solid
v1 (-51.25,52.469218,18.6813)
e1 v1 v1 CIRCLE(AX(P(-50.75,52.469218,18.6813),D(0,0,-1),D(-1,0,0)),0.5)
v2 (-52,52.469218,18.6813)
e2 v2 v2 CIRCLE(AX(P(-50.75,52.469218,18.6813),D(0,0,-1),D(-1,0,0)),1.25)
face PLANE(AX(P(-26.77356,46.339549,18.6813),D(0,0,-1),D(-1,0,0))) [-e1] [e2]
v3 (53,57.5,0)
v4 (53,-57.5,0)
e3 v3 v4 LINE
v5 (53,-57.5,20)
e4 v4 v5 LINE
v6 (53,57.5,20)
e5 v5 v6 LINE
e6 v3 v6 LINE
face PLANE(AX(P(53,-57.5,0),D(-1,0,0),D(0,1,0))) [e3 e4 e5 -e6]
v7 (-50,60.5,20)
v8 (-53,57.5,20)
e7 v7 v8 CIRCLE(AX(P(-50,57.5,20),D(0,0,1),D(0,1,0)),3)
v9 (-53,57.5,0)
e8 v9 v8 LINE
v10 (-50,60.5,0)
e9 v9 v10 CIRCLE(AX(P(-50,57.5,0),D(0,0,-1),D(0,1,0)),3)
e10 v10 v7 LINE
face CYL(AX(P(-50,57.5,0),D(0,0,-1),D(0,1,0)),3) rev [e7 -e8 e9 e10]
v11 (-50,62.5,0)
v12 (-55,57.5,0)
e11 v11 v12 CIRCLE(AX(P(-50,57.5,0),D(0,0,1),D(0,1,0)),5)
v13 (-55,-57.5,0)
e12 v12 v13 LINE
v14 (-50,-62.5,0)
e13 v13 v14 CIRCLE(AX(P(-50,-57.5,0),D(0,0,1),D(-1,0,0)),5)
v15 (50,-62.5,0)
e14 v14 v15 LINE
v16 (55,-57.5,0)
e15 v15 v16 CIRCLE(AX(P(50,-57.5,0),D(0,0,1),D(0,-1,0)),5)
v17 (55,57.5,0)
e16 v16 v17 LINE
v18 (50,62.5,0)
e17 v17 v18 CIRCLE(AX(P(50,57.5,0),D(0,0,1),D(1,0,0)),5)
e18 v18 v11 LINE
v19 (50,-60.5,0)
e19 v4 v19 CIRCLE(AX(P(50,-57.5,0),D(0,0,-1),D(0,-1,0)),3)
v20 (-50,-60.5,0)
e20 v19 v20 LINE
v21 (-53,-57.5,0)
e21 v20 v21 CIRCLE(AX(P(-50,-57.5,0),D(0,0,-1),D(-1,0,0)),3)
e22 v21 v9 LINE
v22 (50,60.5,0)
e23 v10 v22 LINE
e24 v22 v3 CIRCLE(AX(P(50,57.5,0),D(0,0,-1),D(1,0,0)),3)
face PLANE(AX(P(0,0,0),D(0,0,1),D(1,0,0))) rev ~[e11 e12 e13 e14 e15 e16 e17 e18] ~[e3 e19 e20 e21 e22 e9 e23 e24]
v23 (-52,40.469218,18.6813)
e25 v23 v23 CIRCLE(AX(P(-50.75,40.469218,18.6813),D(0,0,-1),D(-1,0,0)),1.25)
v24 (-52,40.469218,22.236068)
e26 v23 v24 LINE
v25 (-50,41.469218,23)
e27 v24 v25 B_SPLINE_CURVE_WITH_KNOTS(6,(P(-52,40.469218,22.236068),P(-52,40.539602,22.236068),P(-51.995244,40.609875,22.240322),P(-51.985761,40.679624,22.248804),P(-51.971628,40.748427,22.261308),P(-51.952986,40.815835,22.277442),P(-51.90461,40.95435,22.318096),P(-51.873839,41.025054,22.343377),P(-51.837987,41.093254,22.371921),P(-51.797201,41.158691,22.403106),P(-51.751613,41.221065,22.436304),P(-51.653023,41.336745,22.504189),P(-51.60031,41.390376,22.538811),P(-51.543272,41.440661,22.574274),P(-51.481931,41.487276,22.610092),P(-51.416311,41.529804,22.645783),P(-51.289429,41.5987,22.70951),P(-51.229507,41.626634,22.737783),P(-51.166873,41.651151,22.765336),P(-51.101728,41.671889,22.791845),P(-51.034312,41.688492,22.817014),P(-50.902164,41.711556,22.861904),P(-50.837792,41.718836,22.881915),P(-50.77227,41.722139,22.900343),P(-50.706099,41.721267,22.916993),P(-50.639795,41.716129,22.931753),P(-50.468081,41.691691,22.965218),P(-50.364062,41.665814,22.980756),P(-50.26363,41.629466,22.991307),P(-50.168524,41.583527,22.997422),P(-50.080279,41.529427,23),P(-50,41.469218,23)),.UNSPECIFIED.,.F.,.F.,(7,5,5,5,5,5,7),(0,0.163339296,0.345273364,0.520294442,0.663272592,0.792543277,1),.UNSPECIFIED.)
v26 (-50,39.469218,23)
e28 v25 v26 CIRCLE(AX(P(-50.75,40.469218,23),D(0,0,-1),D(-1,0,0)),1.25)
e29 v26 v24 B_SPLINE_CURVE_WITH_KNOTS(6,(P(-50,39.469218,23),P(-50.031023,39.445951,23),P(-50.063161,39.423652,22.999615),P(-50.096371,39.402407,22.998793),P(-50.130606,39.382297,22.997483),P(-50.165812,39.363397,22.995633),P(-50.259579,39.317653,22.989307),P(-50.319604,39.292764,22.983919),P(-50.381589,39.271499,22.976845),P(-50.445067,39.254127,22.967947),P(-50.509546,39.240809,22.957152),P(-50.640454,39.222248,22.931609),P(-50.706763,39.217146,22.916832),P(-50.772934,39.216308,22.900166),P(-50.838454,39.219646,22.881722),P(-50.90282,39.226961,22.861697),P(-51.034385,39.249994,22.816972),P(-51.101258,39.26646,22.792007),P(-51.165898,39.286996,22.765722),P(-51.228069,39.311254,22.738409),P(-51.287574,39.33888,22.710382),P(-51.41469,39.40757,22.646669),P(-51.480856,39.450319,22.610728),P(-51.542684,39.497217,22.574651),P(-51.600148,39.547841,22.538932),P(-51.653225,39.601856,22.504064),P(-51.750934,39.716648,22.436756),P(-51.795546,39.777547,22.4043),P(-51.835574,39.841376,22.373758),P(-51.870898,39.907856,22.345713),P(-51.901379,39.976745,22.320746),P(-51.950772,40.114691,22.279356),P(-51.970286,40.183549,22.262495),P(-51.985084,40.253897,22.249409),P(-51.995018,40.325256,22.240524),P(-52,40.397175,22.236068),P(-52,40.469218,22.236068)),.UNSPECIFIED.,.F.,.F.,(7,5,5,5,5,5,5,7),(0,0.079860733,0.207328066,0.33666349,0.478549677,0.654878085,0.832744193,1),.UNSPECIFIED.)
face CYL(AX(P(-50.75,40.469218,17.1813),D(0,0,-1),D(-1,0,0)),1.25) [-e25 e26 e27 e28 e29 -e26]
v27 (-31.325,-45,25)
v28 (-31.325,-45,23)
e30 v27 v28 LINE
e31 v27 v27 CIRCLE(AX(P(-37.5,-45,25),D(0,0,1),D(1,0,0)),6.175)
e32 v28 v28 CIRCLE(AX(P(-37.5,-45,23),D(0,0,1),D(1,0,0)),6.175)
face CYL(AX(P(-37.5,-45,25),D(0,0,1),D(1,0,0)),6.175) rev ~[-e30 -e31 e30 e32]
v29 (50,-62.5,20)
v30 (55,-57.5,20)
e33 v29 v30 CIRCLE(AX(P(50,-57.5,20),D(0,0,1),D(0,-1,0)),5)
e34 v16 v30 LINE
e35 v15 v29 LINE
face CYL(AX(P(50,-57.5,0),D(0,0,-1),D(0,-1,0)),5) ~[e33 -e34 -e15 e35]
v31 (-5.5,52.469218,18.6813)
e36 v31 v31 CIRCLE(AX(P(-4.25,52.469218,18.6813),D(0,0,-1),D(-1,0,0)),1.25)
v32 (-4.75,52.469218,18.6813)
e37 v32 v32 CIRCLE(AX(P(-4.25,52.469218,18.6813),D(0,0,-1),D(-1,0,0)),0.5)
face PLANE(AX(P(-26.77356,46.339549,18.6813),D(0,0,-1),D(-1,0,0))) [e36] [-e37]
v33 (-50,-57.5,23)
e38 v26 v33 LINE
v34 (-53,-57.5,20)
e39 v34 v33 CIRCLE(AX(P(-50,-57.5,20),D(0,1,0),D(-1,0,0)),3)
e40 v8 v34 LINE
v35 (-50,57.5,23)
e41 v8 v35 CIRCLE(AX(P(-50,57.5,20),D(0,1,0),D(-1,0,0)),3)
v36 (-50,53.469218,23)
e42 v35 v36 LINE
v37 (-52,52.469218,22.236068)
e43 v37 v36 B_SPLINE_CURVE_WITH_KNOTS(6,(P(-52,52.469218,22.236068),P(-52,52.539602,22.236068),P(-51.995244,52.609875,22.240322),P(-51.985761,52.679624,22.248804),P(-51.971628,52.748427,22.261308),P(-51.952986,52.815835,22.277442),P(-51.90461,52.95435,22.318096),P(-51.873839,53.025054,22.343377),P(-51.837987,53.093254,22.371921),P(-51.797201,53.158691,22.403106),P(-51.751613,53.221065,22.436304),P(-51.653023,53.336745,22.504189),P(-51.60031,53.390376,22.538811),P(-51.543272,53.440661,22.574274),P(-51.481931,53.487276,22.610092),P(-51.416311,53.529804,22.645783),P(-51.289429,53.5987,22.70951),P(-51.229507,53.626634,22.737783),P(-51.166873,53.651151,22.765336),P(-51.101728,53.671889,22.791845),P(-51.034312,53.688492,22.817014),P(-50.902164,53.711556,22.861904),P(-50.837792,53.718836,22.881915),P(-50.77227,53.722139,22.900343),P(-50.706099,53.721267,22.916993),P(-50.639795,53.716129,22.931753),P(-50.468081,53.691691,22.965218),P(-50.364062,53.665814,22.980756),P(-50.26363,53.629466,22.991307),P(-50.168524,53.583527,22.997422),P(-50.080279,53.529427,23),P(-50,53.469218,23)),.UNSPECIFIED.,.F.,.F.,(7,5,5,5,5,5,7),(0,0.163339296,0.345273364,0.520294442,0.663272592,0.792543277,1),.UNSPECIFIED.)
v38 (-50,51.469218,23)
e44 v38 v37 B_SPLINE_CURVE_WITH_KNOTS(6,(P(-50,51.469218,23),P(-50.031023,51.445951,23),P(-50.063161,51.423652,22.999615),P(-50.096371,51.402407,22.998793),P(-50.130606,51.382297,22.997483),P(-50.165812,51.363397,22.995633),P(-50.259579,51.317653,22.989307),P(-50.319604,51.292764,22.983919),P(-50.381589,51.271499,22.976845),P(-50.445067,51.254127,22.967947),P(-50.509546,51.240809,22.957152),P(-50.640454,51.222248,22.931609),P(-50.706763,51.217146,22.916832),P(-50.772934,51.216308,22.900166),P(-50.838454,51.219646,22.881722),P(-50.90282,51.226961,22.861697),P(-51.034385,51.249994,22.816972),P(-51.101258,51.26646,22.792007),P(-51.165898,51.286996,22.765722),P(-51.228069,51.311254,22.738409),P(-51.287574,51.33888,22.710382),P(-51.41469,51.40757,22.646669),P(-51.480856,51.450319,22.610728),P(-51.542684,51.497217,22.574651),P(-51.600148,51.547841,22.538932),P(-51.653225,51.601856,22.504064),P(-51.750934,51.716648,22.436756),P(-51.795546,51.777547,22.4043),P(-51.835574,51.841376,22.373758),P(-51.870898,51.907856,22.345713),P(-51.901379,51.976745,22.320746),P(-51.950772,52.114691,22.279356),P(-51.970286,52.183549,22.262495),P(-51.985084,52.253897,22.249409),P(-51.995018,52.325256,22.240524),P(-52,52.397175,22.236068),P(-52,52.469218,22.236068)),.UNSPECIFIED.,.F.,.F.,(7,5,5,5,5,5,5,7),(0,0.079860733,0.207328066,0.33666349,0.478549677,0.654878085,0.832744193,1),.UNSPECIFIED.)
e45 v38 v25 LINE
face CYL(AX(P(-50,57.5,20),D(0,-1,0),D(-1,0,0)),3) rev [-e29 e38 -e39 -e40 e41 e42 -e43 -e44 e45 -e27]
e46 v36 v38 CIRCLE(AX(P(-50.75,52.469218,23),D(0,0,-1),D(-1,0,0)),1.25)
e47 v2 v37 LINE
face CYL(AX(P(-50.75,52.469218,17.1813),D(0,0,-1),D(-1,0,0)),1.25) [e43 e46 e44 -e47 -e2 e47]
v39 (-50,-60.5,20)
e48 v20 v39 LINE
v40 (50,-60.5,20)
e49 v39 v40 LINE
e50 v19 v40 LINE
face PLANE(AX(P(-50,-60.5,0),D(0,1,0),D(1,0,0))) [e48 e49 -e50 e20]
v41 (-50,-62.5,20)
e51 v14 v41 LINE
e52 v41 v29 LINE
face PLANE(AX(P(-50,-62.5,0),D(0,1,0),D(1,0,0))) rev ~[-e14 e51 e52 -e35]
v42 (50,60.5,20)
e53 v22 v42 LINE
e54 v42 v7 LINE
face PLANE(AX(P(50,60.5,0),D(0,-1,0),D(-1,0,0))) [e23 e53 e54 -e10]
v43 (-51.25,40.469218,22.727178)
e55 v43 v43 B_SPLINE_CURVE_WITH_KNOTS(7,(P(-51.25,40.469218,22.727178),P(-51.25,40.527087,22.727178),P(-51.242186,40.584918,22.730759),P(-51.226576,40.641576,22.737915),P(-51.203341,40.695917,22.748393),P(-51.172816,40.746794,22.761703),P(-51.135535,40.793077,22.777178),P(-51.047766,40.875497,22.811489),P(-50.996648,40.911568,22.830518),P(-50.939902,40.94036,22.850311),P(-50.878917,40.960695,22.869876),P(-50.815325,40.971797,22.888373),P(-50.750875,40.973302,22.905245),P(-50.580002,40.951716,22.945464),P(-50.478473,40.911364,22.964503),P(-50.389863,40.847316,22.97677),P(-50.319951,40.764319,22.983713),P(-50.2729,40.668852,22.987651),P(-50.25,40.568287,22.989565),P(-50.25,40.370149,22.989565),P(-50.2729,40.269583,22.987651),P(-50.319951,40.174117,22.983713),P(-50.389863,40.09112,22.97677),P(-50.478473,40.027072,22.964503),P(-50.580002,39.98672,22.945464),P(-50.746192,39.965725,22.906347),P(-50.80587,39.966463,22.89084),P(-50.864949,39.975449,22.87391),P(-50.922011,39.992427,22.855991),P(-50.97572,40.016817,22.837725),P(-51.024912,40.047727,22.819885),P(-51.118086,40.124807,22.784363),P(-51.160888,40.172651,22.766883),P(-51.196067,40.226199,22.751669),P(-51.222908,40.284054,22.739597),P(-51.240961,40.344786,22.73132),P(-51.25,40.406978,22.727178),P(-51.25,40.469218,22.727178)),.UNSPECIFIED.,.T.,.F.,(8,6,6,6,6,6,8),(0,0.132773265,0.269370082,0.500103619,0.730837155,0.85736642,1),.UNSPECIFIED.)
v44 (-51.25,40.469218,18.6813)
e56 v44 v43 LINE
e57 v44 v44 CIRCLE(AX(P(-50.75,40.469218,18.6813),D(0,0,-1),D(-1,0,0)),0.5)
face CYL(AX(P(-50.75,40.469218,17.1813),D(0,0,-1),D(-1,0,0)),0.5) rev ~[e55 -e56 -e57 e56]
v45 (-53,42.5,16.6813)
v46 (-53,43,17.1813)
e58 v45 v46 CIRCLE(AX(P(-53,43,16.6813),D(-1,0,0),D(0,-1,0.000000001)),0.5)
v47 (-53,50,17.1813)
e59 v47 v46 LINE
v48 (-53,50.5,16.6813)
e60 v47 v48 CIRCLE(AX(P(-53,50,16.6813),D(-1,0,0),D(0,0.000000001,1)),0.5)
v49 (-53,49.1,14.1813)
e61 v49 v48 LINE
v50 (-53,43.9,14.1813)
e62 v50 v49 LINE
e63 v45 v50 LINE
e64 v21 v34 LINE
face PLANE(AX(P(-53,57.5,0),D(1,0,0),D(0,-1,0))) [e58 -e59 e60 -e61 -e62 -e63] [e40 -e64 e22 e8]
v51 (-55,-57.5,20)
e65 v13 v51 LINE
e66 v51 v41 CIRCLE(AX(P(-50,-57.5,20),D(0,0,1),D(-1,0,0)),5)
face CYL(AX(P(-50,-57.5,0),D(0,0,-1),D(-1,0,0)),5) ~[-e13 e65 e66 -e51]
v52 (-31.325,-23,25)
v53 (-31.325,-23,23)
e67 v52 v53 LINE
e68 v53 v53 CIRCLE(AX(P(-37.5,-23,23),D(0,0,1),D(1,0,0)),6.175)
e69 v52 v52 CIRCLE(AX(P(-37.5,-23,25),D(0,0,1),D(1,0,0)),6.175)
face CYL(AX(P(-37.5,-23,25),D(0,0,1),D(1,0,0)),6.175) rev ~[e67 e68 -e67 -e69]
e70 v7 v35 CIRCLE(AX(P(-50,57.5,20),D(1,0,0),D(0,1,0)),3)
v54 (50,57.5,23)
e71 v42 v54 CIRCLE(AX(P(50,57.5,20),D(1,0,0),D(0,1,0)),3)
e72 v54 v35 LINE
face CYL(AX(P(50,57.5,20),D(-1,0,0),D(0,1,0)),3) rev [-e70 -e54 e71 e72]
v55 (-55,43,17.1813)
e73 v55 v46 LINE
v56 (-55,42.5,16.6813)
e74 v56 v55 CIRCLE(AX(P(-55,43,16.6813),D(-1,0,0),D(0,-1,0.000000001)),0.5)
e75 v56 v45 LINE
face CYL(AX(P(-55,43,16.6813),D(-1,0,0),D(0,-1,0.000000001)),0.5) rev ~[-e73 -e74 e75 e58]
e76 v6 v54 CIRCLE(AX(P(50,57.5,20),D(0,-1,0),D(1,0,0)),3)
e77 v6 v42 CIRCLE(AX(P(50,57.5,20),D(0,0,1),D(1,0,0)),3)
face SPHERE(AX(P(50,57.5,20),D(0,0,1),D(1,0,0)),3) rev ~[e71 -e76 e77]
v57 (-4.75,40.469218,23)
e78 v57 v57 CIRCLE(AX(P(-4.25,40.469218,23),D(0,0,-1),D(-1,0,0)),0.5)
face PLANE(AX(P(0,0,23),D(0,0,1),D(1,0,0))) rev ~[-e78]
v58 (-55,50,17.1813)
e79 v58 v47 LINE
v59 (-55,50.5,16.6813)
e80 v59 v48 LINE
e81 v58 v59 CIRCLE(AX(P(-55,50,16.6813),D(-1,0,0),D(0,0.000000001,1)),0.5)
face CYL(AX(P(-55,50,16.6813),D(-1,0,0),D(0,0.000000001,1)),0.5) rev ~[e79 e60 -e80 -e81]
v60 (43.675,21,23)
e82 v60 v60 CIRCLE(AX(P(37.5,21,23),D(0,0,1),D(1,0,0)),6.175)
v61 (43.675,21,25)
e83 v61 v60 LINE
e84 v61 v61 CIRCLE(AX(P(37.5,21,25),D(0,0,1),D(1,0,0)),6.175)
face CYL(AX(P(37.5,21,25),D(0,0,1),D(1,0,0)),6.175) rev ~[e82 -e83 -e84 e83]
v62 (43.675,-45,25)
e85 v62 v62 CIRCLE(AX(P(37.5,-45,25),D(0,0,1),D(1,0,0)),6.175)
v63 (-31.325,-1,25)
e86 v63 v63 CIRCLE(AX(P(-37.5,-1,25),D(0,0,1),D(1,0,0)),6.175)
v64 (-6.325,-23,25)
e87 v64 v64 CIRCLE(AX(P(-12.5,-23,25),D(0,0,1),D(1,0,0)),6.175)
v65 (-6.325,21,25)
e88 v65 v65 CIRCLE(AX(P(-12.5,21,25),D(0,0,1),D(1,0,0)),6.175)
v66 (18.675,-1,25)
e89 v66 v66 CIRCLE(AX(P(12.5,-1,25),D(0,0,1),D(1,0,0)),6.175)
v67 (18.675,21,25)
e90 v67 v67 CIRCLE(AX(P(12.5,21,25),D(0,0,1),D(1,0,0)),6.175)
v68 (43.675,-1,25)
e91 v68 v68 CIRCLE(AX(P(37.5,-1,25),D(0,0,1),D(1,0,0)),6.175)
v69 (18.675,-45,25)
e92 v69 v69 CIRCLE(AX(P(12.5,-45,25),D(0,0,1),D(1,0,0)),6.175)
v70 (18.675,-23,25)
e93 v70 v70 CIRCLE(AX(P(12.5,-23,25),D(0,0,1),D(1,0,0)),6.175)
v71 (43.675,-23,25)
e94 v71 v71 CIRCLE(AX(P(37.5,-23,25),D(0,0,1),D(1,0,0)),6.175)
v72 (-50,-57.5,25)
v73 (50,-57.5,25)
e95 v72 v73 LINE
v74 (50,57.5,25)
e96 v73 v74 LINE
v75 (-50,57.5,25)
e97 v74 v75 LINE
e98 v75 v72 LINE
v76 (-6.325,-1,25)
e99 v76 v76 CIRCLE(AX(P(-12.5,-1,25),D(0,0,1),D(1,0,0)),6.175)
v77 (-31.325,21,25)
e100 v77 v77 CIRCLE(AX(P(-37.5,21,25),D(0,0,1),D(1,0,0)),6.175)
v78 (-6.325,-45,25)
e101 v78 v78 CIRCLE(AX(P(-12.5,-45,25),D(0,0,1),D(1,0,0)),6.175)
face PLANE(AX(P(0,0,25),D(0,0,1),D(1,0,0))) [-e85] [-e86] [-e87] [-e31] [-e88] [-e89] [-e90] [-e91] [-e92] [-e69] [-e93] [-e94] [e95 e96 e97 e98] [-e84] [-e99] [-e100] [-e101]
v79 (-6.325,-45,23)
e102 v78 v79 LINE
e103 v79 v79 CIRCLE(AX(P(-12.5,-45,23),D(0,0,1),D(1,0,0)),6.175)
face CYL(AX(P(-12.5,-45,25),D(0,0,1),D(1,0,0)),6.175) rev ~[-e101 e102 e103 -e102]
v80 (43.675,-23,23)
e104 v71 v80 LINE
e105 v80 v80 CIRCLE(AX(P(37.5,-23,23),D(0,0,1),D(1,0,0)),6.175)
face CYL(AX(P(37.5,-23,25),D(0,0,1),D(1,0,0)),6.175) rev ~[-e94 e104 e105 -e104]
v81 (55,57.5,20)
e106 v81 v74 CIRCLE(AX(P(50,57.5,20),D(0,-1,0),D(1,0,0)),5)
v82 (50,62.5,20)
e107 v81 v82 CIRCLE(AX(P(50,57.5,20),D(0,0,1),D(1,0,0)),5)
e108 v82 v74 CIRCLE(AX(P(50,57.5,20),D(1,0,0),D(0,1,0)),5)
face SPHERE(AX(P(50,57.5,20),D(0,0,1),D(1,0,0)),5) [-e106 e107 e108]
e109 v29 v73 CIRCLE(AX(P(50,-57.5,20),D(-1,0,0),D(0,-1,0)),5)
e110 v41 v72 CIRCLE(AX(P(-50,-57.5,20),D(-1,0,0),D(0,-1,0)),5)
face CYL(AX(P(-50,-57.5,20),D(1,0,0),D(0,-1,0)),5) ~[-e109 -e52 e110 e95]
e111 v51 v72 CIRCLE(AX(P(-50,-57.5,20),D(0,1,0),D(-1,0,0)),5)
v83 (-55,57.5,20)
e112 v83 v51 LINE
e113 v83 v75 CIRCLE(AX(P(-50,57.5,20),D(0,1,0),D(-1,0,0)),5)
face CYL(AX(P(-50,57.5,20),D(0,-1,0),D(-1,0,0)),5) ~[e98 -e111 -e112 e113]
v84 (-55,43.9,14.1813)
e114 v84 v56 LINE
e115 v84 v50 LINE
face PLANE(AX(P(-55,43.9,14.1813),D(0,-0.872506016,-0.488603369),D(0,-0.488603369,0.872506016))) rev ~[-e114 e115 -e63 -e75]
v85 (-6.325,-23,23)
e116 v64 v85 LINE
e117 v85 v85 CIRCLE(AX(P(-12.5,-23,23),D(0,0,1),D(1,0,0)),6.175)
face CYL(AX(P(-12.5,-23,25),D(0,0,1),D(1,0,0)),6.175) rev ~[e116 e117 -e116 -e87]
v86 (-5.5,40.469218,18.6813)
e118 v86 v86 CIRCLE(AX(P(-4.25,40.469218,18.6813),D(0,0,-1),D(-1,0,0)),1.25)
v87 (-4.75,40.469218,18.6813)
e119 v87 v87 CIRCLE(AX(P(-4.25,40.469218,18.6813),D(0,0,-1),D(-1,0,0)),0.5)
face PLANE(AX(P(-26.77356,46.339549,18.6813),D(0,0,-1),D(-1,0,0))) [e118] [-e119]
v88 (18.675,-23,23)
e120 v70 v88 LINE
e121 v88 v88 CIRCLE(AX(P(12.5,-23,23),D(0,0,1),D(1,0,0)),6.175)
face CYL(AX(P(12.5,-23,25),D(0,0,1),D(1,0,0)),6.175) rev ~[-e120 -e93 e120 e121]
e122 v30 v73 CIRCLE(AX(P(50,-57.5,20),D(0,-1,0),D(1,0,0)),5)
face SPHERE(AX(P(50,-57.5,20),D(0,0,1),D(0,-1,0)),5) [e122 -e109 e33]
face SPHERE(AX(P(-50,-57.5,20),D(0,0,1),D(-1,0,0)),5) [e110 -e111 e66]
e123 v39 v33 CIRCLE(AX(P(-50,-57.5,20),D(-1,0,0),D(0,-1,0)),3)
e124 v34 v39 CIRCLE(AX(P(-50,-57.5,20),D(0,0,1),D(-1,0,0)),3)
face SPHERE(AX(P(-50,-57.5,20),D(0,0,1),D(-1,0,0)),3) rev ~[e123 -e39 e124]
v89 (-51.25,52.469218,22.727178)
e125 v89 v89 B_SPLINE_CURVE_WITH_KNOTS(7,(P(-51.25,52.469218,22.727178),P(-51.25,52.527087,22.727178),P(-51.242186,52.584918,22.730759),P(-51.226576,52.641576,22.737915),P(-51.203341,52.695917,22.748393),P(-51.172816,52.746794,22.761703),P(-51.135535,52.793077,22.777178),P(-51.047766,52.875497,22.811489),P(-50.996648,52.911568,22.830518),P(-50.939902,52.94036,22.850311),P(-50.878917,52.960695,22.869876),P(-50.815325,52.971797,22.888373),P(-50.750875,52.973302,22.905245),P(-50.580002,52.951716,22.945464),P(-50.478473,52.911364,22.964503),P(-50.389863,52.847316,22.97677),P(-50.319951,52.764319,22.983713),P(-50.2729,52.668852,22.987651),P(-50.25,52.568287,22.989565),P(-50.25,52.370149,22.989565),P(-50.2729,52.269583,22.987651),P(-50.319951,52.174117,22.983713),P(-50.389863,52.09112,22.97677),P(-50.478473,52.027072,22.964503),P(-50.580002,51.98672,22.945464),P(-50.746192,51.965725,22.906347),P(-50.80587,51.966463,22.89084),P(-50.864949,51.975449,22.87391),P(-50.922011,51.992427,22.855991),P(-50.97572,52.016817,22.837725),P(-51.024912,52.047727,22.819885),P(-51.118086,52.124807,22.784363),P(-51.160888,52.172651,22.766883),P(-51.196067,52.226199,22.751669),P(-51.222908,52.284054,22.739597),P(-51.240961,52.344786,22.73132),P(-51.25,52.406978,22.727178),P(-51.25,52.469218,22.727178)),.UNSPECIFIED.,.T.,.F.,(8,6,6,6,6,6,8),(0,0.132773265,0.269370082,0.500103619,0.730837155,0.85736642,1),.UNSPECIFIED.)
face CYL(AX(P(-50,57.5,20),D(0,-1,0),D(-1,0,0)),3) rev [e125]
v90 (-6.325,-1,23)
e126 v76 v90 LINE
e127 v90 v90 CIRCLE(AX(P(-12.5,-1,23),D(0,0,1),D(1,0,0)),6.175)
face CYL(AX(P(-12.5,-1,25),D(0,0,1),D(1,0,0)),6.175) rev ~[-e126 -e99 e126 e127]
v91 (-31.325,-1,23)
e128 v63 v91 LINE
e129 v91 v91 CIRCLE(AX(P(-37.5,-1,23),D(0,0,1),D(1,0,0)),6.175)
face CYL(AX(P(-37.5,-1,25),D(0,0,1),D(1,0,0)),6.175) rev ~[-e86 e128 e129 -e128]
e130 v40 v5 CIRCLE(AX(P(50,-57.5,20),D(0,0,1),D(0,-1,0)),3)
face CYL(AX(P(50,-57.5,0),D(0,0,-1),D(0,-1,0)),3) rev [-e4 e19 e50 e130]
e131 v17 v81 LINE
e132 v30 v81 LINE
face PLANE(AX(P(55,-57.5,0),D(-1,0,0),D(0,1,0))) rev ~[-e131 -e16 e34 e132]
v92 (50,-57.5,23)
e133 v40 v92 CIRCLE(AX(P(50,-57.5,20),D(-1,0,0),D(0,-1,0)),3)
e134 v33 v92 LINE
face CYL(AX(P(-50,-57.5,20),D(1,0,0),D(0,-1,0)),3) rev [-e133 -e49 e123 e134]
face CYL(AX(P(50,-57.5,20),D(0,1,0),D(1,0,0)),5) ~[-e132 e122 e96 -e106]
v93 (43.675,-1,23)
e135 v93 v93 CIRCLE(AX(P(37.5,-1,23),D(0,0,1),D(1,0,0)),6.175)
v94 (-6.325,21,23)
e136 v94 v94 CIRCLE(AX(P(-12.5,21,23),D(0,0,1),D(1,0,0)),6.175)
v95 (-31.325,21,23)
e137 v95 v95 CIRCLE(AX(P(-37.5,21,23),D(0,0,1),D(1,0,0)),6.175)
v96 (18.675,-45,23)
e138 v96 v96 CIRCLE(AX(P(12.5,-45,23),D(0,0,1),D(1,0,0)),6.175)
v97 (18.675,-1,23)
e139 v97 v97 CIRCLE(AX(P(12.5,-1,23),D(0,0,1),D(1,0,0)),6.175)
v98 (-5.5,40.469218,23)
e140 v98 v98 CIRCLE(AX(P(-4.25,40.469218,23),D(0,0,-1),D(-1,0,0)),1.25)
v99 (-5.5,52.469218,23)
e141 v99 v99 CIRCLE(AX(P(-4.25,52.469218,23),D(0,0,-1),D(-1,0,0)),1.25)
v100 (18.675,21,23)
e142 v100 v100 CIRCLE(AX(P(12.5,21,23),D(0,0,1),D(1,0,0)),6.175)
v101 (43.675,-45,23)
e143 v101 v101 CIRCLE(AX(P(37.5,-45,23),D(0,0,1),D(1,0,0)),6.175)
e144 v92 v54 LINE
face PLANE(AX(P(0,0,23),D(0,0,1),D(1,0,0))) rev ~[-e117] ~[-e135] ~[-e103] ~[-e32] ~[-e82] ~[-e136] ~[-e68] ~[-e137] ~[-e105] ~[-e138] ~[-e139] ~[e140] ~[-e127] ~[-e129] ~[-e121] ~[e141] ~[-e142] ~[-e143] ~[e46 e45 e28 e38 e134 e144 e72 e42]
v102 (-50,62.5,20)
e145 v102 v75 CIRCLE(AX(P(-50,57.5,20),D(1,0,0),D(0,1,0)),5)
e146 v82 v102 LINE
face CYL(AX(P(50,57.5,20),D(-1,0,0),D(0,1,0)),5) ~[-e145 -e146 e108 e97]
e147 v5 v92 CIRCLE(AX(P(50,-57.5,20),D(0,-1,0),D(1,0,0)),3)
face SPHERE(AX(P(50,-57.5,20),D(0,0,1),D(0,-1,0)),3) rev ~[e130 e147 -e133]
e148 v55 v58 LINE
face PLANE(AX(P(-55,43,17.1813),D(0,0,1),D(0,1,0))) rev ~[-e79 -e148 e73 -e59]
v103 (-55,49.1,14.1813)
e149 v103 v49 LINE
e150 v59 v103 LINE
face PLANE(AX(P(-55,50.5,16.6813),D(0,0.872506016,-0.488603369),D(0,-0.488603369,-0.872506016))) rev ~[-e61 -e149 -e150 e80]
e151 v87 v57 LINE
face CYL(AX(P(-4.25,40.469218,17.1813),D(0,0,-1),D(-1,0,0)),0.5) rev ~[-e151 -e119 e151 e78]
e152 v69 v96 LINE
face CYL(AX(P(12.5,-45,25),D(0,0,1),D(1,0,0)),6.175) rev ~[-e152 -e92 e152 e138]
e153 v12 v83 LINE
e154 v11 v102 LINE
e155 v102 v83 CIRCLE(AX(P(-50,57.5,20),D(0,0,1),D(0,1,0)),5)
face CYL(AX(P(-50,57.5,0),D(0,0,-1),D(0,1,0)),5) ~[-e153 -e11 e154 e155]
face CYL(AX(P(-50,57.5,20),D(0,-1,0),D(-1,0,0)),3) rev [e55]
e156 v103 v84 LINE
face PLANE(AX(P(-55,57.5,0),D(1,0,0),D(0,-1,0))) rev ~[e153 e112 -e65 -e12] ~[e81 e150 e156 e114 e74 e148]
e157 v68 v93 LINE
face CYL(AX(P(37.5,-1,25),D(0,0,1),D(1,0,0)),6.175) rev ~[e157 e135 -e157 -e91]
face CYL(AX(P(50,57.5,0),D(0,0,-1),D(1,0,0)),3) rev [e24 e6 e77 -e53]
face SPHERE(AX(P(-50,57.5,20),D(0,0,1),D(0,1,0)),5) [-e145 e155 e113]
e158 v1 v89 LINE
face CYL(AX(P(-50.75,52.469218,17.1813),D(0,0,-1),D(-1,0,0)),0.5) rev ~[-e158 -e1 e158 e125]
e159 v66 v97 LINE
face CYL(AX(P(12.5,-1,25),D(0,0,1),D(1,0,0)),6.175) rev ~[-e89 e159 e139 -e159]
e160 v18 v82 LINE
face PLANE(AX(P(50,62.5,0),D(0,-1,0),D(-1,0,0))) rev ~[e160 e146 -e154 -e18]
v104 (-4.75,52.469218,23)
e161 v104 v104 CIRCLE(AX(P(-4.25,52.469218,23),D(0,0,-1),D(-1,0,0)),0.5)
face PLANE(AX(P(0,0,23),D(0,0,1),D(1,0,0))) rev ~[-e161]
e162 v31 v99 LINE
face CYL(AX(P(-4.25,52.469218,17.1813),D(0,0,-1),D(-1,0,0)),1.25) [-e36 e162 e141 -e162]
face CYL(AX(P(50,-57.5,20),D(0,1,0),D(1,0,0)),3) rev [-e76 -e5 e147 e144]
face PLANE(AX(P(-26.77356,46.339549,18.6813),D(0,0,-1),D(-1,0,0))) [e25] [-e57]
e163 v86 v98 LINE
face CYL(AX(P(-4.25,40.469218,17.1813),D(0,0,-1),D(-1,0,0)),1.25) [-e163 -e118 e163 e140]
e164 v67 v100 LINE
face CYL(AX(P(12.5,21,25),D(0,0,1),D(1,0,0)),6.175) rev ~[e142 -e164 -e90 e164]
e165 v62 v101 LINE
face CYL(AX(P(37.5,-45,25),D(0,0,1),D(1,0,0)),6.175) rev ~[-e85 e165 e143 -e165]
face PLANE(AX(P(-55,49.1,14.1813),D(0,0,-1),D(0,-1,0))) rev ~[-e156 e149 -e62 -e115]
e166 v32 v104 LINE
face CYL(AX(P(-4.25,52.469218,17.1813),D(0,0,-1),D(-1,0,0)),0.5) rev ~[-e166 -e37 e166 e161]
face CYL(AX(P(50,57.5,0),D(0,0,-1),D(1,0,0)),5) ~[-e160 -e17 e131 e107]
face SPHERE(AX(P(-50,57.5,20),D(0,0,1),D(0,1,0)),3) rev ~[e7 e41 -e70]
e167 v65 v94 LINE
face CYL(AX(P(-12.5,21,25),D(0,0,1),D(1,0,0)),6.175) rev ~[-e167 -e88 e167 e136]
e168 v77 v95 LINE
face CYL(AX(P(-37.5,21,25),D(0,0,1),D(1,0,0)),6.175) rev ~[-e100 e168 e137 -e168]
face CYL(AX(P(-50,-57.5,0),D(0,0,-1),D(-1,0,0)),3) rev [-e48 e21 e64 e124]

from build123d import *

# Parameters (mm, degrees)
BOSS_EXTRUDE1_DEPTH = 25
FILLET1_R           = 5
SHELL1_T            = -2
SKETCH2_R           = 6.175
CUT_EXTRUDE2_DEPTH  = 25
CUT_EXTRUDE4_DEPTH  = 25
SKETCH4_R           = 1.25
SKETCH4_R_2         = 0.5
BOSS_EXTRUDE2_DEPTH = 7
SKETCH5_W           = 50.970389208
SKETCH5_H           = 16.037024898
CUT_EXTRUDE5_DEPTH  = 1.5


with BuildPart() as part:
    # Sketch1 → Boss-Extrude1 (new body)
    with BuildSketch(Plane.XY):
        with BuildLine():
            Line((-50, -62.5), (50, -62.5))
            ThreePointArc((50, -62.5), (53.535533906, -61.035533906), (55, -57.5))
            Line((55, -57.5), (55, 57.5))
            ThreePointArc((55, 57.5), (53.535533906, 61.035533906), (50, 62.5))
            Line((50, 62.5), (-50, 62.5))
            ThreePointArc((-50, 62.5), (-53.535533906, 61.035533906), (-55, 57.5))
            Line((-55, 57.5), (-55, -57.5))
            ThreePointArc((-55, -57.5), (-53.535533906, -61.035533906), (-50, -62.5))
        make_face()
    extrude(amount=BOSS_EXTRUDE1_DEPTH)

    # Fillet1
    fillet1_edges = [part.edges().sort_by_distance(p)[0] for p in [
        (53.535533906, -61.035533906, 25),
        (55, 0, 25),
        (53.535533906, 61.035533906, 25),
        (0, 62.5, 25),
        (-53.535533906, 61.035533906, 25),
        (-55, 0, 25),
        (-53.535533906, -61.035533906, 25),
        (0, -62.5, 25),
    ]]
    fillet(fillet1_edges, radius=FILLET1_R)

    # Shell1
    shell1_openings = [part.faces().sort_by_distance(p)[0] for p in [
        (0, 0, 0),
    ]]
    offset(amount=SHELL1_T, openings=shell1_openings, kind=Kind.INTERSECTION)

    # Sketch2 → Cut-Extrude2 (cut)
    with BuildSketch(Plane.XY.offset(25)):
        with Locations((-37.5, -45)):
            Circle(SKETCH2_R)
        with Locations((-12.5, -45)):
            Circle(SKETCH2_R)
        with Locations((12.5, -45)):
            Circle(SKETCH2_R)
        with Locations((37.5, -45)):
            Circle(SKETCH2_R)
        with Locations((-37.5, -23)):
            Circle(SKETCH2_R)
        with Locations((-12.5, -23)):
            Circle(SKETCH2_R)
        with Locations((12.5, -23)):
            Circle(SKETCH2_R)
        with Locations((37.5, -23)):
            Circle(SKETCH2_R)
        with Locations((-37.5, -1)):
            Circle(SKETCH2_R)
        with Locations((-12.5, -1)):
            Circle(SKETCH2_R)
        with Locations((12.5, -1)):
            Circle(SKETCH2_R)
        with Locations((37.5, -1)):
            Circle(SKETCH2_R)
        with Locations((-37.5, 21)):
            Circle(SKETCH2_R)
        with Locations((-12.5, 21)):
            Circle(SKETCH2_R)
        with Locations((12.5, 21)):
            Circle(SKETCH2_R)
        with Locations((37.5, 21)):
            Circle(SKETCH2_R)
    extrude(amount=-CUT_EXTRUDE2_DEPTH, mode=Mode.SUBTRACT)

    # Sketch3 → Cut-Extrude4 (cut)
    with BuildSketch(Plane.ZY.offset(55)):
        with BuildLine():
            Line((14.181299903, 43.9), (16.681299903, 42.5))
            ThreePointArc((16.681299903, 42.5), (17.034853293, 42.646446609), (17.181299903, 43))
            Line((17.181299903, 43), (17.181299903, 50))
            ThreePointArc((17.181299903, 50), (17.034853293, 50.353553391), (16.681299903, 50.5))
            Line((16.681299903, 50.5), (14.181299903, 49.1))
            Line((14.181299903, 49.1), (14.181299903, 43.9))
        make_face()
    extrude(amount=-CUT_EXTRUDE4_DEPTH, mode=Mode.SUBTRACT)

    # Sketch4 → Boss-Extrude2 (add)
    # profile 1 of 4: a face of its own
    with BuildSketch(Plane(origin=(0, 0, 17.181299903), x_dir=(-1, 0, 0), z_dir=(0, 0, -1))):
        with Locations((50.75, 40.469217889)):
            Circle(SKETCH4_R)
        with Locations((50.75, 40.469217889)):
            Circle(SKETCH4_R_2, mode=Mode.SUBTRACT)
    # profile 2 of 4: a face of its own
    with BuildSketch(Plane(origin=(0, 0, 17.181299903), x_dir=(-1, 0, 0), z_dir=(0, 0, -1))):
        with Locations((50.75, 52.469217889)):
            Circle(SKETCH4_R)
        with Locations((50.75, 52.469217889)):
            Circle(SKETCH4_R_2, mode=Mode.SUBTRACT)
    # profile 3 of 4: a face of its own
    with BuildSketch(Plane(origin=(0, 0, 17.181299903), x_dir=(-1, 0, 0), z_dir=(0, 0, -1))):
        with Locations((4.25, 52.469217889)):
            Circle(SKETCH4_R)
        with Locations((4.25, 52.469217889)):
            Circle(SKETCH4_R_2, mode=Mode.SUBTRACT)
    # profile 4 of 4: a face of its own
    with BuildSketch(Plane(origin=(0, 0, 17.181299903), x_dir=(-1, 0, 0), z_dir=(0, 0, -1))):
        with Locations((4.25, 40.469217889)):
            Circle(SKETCH4_R)
        with Locations((4.25, 40.469217889)):
            Circle(SKETCH4_R_2, mode=Mode.SUBTRACT)
    extrude(amount=-BOSS_EXTRUDE2_DEPTH)

    # Sketch5 → Cut-Extrude5 (cut)
    with BuildSketch(Plane(origin=(0, 0, 17.181299903), x_dir=(-1, 0, 0), z_dir=(0, 0, -1))):
        with Locations((26.773560326, 46.339549131)):
            Rectangle(SKETCH5_W, SKETCH5_H)
    extrude(amount=-CUT_EXTRUDE5_DEPTH, mode=Mode.SUBTRACT)


solid = part.part
